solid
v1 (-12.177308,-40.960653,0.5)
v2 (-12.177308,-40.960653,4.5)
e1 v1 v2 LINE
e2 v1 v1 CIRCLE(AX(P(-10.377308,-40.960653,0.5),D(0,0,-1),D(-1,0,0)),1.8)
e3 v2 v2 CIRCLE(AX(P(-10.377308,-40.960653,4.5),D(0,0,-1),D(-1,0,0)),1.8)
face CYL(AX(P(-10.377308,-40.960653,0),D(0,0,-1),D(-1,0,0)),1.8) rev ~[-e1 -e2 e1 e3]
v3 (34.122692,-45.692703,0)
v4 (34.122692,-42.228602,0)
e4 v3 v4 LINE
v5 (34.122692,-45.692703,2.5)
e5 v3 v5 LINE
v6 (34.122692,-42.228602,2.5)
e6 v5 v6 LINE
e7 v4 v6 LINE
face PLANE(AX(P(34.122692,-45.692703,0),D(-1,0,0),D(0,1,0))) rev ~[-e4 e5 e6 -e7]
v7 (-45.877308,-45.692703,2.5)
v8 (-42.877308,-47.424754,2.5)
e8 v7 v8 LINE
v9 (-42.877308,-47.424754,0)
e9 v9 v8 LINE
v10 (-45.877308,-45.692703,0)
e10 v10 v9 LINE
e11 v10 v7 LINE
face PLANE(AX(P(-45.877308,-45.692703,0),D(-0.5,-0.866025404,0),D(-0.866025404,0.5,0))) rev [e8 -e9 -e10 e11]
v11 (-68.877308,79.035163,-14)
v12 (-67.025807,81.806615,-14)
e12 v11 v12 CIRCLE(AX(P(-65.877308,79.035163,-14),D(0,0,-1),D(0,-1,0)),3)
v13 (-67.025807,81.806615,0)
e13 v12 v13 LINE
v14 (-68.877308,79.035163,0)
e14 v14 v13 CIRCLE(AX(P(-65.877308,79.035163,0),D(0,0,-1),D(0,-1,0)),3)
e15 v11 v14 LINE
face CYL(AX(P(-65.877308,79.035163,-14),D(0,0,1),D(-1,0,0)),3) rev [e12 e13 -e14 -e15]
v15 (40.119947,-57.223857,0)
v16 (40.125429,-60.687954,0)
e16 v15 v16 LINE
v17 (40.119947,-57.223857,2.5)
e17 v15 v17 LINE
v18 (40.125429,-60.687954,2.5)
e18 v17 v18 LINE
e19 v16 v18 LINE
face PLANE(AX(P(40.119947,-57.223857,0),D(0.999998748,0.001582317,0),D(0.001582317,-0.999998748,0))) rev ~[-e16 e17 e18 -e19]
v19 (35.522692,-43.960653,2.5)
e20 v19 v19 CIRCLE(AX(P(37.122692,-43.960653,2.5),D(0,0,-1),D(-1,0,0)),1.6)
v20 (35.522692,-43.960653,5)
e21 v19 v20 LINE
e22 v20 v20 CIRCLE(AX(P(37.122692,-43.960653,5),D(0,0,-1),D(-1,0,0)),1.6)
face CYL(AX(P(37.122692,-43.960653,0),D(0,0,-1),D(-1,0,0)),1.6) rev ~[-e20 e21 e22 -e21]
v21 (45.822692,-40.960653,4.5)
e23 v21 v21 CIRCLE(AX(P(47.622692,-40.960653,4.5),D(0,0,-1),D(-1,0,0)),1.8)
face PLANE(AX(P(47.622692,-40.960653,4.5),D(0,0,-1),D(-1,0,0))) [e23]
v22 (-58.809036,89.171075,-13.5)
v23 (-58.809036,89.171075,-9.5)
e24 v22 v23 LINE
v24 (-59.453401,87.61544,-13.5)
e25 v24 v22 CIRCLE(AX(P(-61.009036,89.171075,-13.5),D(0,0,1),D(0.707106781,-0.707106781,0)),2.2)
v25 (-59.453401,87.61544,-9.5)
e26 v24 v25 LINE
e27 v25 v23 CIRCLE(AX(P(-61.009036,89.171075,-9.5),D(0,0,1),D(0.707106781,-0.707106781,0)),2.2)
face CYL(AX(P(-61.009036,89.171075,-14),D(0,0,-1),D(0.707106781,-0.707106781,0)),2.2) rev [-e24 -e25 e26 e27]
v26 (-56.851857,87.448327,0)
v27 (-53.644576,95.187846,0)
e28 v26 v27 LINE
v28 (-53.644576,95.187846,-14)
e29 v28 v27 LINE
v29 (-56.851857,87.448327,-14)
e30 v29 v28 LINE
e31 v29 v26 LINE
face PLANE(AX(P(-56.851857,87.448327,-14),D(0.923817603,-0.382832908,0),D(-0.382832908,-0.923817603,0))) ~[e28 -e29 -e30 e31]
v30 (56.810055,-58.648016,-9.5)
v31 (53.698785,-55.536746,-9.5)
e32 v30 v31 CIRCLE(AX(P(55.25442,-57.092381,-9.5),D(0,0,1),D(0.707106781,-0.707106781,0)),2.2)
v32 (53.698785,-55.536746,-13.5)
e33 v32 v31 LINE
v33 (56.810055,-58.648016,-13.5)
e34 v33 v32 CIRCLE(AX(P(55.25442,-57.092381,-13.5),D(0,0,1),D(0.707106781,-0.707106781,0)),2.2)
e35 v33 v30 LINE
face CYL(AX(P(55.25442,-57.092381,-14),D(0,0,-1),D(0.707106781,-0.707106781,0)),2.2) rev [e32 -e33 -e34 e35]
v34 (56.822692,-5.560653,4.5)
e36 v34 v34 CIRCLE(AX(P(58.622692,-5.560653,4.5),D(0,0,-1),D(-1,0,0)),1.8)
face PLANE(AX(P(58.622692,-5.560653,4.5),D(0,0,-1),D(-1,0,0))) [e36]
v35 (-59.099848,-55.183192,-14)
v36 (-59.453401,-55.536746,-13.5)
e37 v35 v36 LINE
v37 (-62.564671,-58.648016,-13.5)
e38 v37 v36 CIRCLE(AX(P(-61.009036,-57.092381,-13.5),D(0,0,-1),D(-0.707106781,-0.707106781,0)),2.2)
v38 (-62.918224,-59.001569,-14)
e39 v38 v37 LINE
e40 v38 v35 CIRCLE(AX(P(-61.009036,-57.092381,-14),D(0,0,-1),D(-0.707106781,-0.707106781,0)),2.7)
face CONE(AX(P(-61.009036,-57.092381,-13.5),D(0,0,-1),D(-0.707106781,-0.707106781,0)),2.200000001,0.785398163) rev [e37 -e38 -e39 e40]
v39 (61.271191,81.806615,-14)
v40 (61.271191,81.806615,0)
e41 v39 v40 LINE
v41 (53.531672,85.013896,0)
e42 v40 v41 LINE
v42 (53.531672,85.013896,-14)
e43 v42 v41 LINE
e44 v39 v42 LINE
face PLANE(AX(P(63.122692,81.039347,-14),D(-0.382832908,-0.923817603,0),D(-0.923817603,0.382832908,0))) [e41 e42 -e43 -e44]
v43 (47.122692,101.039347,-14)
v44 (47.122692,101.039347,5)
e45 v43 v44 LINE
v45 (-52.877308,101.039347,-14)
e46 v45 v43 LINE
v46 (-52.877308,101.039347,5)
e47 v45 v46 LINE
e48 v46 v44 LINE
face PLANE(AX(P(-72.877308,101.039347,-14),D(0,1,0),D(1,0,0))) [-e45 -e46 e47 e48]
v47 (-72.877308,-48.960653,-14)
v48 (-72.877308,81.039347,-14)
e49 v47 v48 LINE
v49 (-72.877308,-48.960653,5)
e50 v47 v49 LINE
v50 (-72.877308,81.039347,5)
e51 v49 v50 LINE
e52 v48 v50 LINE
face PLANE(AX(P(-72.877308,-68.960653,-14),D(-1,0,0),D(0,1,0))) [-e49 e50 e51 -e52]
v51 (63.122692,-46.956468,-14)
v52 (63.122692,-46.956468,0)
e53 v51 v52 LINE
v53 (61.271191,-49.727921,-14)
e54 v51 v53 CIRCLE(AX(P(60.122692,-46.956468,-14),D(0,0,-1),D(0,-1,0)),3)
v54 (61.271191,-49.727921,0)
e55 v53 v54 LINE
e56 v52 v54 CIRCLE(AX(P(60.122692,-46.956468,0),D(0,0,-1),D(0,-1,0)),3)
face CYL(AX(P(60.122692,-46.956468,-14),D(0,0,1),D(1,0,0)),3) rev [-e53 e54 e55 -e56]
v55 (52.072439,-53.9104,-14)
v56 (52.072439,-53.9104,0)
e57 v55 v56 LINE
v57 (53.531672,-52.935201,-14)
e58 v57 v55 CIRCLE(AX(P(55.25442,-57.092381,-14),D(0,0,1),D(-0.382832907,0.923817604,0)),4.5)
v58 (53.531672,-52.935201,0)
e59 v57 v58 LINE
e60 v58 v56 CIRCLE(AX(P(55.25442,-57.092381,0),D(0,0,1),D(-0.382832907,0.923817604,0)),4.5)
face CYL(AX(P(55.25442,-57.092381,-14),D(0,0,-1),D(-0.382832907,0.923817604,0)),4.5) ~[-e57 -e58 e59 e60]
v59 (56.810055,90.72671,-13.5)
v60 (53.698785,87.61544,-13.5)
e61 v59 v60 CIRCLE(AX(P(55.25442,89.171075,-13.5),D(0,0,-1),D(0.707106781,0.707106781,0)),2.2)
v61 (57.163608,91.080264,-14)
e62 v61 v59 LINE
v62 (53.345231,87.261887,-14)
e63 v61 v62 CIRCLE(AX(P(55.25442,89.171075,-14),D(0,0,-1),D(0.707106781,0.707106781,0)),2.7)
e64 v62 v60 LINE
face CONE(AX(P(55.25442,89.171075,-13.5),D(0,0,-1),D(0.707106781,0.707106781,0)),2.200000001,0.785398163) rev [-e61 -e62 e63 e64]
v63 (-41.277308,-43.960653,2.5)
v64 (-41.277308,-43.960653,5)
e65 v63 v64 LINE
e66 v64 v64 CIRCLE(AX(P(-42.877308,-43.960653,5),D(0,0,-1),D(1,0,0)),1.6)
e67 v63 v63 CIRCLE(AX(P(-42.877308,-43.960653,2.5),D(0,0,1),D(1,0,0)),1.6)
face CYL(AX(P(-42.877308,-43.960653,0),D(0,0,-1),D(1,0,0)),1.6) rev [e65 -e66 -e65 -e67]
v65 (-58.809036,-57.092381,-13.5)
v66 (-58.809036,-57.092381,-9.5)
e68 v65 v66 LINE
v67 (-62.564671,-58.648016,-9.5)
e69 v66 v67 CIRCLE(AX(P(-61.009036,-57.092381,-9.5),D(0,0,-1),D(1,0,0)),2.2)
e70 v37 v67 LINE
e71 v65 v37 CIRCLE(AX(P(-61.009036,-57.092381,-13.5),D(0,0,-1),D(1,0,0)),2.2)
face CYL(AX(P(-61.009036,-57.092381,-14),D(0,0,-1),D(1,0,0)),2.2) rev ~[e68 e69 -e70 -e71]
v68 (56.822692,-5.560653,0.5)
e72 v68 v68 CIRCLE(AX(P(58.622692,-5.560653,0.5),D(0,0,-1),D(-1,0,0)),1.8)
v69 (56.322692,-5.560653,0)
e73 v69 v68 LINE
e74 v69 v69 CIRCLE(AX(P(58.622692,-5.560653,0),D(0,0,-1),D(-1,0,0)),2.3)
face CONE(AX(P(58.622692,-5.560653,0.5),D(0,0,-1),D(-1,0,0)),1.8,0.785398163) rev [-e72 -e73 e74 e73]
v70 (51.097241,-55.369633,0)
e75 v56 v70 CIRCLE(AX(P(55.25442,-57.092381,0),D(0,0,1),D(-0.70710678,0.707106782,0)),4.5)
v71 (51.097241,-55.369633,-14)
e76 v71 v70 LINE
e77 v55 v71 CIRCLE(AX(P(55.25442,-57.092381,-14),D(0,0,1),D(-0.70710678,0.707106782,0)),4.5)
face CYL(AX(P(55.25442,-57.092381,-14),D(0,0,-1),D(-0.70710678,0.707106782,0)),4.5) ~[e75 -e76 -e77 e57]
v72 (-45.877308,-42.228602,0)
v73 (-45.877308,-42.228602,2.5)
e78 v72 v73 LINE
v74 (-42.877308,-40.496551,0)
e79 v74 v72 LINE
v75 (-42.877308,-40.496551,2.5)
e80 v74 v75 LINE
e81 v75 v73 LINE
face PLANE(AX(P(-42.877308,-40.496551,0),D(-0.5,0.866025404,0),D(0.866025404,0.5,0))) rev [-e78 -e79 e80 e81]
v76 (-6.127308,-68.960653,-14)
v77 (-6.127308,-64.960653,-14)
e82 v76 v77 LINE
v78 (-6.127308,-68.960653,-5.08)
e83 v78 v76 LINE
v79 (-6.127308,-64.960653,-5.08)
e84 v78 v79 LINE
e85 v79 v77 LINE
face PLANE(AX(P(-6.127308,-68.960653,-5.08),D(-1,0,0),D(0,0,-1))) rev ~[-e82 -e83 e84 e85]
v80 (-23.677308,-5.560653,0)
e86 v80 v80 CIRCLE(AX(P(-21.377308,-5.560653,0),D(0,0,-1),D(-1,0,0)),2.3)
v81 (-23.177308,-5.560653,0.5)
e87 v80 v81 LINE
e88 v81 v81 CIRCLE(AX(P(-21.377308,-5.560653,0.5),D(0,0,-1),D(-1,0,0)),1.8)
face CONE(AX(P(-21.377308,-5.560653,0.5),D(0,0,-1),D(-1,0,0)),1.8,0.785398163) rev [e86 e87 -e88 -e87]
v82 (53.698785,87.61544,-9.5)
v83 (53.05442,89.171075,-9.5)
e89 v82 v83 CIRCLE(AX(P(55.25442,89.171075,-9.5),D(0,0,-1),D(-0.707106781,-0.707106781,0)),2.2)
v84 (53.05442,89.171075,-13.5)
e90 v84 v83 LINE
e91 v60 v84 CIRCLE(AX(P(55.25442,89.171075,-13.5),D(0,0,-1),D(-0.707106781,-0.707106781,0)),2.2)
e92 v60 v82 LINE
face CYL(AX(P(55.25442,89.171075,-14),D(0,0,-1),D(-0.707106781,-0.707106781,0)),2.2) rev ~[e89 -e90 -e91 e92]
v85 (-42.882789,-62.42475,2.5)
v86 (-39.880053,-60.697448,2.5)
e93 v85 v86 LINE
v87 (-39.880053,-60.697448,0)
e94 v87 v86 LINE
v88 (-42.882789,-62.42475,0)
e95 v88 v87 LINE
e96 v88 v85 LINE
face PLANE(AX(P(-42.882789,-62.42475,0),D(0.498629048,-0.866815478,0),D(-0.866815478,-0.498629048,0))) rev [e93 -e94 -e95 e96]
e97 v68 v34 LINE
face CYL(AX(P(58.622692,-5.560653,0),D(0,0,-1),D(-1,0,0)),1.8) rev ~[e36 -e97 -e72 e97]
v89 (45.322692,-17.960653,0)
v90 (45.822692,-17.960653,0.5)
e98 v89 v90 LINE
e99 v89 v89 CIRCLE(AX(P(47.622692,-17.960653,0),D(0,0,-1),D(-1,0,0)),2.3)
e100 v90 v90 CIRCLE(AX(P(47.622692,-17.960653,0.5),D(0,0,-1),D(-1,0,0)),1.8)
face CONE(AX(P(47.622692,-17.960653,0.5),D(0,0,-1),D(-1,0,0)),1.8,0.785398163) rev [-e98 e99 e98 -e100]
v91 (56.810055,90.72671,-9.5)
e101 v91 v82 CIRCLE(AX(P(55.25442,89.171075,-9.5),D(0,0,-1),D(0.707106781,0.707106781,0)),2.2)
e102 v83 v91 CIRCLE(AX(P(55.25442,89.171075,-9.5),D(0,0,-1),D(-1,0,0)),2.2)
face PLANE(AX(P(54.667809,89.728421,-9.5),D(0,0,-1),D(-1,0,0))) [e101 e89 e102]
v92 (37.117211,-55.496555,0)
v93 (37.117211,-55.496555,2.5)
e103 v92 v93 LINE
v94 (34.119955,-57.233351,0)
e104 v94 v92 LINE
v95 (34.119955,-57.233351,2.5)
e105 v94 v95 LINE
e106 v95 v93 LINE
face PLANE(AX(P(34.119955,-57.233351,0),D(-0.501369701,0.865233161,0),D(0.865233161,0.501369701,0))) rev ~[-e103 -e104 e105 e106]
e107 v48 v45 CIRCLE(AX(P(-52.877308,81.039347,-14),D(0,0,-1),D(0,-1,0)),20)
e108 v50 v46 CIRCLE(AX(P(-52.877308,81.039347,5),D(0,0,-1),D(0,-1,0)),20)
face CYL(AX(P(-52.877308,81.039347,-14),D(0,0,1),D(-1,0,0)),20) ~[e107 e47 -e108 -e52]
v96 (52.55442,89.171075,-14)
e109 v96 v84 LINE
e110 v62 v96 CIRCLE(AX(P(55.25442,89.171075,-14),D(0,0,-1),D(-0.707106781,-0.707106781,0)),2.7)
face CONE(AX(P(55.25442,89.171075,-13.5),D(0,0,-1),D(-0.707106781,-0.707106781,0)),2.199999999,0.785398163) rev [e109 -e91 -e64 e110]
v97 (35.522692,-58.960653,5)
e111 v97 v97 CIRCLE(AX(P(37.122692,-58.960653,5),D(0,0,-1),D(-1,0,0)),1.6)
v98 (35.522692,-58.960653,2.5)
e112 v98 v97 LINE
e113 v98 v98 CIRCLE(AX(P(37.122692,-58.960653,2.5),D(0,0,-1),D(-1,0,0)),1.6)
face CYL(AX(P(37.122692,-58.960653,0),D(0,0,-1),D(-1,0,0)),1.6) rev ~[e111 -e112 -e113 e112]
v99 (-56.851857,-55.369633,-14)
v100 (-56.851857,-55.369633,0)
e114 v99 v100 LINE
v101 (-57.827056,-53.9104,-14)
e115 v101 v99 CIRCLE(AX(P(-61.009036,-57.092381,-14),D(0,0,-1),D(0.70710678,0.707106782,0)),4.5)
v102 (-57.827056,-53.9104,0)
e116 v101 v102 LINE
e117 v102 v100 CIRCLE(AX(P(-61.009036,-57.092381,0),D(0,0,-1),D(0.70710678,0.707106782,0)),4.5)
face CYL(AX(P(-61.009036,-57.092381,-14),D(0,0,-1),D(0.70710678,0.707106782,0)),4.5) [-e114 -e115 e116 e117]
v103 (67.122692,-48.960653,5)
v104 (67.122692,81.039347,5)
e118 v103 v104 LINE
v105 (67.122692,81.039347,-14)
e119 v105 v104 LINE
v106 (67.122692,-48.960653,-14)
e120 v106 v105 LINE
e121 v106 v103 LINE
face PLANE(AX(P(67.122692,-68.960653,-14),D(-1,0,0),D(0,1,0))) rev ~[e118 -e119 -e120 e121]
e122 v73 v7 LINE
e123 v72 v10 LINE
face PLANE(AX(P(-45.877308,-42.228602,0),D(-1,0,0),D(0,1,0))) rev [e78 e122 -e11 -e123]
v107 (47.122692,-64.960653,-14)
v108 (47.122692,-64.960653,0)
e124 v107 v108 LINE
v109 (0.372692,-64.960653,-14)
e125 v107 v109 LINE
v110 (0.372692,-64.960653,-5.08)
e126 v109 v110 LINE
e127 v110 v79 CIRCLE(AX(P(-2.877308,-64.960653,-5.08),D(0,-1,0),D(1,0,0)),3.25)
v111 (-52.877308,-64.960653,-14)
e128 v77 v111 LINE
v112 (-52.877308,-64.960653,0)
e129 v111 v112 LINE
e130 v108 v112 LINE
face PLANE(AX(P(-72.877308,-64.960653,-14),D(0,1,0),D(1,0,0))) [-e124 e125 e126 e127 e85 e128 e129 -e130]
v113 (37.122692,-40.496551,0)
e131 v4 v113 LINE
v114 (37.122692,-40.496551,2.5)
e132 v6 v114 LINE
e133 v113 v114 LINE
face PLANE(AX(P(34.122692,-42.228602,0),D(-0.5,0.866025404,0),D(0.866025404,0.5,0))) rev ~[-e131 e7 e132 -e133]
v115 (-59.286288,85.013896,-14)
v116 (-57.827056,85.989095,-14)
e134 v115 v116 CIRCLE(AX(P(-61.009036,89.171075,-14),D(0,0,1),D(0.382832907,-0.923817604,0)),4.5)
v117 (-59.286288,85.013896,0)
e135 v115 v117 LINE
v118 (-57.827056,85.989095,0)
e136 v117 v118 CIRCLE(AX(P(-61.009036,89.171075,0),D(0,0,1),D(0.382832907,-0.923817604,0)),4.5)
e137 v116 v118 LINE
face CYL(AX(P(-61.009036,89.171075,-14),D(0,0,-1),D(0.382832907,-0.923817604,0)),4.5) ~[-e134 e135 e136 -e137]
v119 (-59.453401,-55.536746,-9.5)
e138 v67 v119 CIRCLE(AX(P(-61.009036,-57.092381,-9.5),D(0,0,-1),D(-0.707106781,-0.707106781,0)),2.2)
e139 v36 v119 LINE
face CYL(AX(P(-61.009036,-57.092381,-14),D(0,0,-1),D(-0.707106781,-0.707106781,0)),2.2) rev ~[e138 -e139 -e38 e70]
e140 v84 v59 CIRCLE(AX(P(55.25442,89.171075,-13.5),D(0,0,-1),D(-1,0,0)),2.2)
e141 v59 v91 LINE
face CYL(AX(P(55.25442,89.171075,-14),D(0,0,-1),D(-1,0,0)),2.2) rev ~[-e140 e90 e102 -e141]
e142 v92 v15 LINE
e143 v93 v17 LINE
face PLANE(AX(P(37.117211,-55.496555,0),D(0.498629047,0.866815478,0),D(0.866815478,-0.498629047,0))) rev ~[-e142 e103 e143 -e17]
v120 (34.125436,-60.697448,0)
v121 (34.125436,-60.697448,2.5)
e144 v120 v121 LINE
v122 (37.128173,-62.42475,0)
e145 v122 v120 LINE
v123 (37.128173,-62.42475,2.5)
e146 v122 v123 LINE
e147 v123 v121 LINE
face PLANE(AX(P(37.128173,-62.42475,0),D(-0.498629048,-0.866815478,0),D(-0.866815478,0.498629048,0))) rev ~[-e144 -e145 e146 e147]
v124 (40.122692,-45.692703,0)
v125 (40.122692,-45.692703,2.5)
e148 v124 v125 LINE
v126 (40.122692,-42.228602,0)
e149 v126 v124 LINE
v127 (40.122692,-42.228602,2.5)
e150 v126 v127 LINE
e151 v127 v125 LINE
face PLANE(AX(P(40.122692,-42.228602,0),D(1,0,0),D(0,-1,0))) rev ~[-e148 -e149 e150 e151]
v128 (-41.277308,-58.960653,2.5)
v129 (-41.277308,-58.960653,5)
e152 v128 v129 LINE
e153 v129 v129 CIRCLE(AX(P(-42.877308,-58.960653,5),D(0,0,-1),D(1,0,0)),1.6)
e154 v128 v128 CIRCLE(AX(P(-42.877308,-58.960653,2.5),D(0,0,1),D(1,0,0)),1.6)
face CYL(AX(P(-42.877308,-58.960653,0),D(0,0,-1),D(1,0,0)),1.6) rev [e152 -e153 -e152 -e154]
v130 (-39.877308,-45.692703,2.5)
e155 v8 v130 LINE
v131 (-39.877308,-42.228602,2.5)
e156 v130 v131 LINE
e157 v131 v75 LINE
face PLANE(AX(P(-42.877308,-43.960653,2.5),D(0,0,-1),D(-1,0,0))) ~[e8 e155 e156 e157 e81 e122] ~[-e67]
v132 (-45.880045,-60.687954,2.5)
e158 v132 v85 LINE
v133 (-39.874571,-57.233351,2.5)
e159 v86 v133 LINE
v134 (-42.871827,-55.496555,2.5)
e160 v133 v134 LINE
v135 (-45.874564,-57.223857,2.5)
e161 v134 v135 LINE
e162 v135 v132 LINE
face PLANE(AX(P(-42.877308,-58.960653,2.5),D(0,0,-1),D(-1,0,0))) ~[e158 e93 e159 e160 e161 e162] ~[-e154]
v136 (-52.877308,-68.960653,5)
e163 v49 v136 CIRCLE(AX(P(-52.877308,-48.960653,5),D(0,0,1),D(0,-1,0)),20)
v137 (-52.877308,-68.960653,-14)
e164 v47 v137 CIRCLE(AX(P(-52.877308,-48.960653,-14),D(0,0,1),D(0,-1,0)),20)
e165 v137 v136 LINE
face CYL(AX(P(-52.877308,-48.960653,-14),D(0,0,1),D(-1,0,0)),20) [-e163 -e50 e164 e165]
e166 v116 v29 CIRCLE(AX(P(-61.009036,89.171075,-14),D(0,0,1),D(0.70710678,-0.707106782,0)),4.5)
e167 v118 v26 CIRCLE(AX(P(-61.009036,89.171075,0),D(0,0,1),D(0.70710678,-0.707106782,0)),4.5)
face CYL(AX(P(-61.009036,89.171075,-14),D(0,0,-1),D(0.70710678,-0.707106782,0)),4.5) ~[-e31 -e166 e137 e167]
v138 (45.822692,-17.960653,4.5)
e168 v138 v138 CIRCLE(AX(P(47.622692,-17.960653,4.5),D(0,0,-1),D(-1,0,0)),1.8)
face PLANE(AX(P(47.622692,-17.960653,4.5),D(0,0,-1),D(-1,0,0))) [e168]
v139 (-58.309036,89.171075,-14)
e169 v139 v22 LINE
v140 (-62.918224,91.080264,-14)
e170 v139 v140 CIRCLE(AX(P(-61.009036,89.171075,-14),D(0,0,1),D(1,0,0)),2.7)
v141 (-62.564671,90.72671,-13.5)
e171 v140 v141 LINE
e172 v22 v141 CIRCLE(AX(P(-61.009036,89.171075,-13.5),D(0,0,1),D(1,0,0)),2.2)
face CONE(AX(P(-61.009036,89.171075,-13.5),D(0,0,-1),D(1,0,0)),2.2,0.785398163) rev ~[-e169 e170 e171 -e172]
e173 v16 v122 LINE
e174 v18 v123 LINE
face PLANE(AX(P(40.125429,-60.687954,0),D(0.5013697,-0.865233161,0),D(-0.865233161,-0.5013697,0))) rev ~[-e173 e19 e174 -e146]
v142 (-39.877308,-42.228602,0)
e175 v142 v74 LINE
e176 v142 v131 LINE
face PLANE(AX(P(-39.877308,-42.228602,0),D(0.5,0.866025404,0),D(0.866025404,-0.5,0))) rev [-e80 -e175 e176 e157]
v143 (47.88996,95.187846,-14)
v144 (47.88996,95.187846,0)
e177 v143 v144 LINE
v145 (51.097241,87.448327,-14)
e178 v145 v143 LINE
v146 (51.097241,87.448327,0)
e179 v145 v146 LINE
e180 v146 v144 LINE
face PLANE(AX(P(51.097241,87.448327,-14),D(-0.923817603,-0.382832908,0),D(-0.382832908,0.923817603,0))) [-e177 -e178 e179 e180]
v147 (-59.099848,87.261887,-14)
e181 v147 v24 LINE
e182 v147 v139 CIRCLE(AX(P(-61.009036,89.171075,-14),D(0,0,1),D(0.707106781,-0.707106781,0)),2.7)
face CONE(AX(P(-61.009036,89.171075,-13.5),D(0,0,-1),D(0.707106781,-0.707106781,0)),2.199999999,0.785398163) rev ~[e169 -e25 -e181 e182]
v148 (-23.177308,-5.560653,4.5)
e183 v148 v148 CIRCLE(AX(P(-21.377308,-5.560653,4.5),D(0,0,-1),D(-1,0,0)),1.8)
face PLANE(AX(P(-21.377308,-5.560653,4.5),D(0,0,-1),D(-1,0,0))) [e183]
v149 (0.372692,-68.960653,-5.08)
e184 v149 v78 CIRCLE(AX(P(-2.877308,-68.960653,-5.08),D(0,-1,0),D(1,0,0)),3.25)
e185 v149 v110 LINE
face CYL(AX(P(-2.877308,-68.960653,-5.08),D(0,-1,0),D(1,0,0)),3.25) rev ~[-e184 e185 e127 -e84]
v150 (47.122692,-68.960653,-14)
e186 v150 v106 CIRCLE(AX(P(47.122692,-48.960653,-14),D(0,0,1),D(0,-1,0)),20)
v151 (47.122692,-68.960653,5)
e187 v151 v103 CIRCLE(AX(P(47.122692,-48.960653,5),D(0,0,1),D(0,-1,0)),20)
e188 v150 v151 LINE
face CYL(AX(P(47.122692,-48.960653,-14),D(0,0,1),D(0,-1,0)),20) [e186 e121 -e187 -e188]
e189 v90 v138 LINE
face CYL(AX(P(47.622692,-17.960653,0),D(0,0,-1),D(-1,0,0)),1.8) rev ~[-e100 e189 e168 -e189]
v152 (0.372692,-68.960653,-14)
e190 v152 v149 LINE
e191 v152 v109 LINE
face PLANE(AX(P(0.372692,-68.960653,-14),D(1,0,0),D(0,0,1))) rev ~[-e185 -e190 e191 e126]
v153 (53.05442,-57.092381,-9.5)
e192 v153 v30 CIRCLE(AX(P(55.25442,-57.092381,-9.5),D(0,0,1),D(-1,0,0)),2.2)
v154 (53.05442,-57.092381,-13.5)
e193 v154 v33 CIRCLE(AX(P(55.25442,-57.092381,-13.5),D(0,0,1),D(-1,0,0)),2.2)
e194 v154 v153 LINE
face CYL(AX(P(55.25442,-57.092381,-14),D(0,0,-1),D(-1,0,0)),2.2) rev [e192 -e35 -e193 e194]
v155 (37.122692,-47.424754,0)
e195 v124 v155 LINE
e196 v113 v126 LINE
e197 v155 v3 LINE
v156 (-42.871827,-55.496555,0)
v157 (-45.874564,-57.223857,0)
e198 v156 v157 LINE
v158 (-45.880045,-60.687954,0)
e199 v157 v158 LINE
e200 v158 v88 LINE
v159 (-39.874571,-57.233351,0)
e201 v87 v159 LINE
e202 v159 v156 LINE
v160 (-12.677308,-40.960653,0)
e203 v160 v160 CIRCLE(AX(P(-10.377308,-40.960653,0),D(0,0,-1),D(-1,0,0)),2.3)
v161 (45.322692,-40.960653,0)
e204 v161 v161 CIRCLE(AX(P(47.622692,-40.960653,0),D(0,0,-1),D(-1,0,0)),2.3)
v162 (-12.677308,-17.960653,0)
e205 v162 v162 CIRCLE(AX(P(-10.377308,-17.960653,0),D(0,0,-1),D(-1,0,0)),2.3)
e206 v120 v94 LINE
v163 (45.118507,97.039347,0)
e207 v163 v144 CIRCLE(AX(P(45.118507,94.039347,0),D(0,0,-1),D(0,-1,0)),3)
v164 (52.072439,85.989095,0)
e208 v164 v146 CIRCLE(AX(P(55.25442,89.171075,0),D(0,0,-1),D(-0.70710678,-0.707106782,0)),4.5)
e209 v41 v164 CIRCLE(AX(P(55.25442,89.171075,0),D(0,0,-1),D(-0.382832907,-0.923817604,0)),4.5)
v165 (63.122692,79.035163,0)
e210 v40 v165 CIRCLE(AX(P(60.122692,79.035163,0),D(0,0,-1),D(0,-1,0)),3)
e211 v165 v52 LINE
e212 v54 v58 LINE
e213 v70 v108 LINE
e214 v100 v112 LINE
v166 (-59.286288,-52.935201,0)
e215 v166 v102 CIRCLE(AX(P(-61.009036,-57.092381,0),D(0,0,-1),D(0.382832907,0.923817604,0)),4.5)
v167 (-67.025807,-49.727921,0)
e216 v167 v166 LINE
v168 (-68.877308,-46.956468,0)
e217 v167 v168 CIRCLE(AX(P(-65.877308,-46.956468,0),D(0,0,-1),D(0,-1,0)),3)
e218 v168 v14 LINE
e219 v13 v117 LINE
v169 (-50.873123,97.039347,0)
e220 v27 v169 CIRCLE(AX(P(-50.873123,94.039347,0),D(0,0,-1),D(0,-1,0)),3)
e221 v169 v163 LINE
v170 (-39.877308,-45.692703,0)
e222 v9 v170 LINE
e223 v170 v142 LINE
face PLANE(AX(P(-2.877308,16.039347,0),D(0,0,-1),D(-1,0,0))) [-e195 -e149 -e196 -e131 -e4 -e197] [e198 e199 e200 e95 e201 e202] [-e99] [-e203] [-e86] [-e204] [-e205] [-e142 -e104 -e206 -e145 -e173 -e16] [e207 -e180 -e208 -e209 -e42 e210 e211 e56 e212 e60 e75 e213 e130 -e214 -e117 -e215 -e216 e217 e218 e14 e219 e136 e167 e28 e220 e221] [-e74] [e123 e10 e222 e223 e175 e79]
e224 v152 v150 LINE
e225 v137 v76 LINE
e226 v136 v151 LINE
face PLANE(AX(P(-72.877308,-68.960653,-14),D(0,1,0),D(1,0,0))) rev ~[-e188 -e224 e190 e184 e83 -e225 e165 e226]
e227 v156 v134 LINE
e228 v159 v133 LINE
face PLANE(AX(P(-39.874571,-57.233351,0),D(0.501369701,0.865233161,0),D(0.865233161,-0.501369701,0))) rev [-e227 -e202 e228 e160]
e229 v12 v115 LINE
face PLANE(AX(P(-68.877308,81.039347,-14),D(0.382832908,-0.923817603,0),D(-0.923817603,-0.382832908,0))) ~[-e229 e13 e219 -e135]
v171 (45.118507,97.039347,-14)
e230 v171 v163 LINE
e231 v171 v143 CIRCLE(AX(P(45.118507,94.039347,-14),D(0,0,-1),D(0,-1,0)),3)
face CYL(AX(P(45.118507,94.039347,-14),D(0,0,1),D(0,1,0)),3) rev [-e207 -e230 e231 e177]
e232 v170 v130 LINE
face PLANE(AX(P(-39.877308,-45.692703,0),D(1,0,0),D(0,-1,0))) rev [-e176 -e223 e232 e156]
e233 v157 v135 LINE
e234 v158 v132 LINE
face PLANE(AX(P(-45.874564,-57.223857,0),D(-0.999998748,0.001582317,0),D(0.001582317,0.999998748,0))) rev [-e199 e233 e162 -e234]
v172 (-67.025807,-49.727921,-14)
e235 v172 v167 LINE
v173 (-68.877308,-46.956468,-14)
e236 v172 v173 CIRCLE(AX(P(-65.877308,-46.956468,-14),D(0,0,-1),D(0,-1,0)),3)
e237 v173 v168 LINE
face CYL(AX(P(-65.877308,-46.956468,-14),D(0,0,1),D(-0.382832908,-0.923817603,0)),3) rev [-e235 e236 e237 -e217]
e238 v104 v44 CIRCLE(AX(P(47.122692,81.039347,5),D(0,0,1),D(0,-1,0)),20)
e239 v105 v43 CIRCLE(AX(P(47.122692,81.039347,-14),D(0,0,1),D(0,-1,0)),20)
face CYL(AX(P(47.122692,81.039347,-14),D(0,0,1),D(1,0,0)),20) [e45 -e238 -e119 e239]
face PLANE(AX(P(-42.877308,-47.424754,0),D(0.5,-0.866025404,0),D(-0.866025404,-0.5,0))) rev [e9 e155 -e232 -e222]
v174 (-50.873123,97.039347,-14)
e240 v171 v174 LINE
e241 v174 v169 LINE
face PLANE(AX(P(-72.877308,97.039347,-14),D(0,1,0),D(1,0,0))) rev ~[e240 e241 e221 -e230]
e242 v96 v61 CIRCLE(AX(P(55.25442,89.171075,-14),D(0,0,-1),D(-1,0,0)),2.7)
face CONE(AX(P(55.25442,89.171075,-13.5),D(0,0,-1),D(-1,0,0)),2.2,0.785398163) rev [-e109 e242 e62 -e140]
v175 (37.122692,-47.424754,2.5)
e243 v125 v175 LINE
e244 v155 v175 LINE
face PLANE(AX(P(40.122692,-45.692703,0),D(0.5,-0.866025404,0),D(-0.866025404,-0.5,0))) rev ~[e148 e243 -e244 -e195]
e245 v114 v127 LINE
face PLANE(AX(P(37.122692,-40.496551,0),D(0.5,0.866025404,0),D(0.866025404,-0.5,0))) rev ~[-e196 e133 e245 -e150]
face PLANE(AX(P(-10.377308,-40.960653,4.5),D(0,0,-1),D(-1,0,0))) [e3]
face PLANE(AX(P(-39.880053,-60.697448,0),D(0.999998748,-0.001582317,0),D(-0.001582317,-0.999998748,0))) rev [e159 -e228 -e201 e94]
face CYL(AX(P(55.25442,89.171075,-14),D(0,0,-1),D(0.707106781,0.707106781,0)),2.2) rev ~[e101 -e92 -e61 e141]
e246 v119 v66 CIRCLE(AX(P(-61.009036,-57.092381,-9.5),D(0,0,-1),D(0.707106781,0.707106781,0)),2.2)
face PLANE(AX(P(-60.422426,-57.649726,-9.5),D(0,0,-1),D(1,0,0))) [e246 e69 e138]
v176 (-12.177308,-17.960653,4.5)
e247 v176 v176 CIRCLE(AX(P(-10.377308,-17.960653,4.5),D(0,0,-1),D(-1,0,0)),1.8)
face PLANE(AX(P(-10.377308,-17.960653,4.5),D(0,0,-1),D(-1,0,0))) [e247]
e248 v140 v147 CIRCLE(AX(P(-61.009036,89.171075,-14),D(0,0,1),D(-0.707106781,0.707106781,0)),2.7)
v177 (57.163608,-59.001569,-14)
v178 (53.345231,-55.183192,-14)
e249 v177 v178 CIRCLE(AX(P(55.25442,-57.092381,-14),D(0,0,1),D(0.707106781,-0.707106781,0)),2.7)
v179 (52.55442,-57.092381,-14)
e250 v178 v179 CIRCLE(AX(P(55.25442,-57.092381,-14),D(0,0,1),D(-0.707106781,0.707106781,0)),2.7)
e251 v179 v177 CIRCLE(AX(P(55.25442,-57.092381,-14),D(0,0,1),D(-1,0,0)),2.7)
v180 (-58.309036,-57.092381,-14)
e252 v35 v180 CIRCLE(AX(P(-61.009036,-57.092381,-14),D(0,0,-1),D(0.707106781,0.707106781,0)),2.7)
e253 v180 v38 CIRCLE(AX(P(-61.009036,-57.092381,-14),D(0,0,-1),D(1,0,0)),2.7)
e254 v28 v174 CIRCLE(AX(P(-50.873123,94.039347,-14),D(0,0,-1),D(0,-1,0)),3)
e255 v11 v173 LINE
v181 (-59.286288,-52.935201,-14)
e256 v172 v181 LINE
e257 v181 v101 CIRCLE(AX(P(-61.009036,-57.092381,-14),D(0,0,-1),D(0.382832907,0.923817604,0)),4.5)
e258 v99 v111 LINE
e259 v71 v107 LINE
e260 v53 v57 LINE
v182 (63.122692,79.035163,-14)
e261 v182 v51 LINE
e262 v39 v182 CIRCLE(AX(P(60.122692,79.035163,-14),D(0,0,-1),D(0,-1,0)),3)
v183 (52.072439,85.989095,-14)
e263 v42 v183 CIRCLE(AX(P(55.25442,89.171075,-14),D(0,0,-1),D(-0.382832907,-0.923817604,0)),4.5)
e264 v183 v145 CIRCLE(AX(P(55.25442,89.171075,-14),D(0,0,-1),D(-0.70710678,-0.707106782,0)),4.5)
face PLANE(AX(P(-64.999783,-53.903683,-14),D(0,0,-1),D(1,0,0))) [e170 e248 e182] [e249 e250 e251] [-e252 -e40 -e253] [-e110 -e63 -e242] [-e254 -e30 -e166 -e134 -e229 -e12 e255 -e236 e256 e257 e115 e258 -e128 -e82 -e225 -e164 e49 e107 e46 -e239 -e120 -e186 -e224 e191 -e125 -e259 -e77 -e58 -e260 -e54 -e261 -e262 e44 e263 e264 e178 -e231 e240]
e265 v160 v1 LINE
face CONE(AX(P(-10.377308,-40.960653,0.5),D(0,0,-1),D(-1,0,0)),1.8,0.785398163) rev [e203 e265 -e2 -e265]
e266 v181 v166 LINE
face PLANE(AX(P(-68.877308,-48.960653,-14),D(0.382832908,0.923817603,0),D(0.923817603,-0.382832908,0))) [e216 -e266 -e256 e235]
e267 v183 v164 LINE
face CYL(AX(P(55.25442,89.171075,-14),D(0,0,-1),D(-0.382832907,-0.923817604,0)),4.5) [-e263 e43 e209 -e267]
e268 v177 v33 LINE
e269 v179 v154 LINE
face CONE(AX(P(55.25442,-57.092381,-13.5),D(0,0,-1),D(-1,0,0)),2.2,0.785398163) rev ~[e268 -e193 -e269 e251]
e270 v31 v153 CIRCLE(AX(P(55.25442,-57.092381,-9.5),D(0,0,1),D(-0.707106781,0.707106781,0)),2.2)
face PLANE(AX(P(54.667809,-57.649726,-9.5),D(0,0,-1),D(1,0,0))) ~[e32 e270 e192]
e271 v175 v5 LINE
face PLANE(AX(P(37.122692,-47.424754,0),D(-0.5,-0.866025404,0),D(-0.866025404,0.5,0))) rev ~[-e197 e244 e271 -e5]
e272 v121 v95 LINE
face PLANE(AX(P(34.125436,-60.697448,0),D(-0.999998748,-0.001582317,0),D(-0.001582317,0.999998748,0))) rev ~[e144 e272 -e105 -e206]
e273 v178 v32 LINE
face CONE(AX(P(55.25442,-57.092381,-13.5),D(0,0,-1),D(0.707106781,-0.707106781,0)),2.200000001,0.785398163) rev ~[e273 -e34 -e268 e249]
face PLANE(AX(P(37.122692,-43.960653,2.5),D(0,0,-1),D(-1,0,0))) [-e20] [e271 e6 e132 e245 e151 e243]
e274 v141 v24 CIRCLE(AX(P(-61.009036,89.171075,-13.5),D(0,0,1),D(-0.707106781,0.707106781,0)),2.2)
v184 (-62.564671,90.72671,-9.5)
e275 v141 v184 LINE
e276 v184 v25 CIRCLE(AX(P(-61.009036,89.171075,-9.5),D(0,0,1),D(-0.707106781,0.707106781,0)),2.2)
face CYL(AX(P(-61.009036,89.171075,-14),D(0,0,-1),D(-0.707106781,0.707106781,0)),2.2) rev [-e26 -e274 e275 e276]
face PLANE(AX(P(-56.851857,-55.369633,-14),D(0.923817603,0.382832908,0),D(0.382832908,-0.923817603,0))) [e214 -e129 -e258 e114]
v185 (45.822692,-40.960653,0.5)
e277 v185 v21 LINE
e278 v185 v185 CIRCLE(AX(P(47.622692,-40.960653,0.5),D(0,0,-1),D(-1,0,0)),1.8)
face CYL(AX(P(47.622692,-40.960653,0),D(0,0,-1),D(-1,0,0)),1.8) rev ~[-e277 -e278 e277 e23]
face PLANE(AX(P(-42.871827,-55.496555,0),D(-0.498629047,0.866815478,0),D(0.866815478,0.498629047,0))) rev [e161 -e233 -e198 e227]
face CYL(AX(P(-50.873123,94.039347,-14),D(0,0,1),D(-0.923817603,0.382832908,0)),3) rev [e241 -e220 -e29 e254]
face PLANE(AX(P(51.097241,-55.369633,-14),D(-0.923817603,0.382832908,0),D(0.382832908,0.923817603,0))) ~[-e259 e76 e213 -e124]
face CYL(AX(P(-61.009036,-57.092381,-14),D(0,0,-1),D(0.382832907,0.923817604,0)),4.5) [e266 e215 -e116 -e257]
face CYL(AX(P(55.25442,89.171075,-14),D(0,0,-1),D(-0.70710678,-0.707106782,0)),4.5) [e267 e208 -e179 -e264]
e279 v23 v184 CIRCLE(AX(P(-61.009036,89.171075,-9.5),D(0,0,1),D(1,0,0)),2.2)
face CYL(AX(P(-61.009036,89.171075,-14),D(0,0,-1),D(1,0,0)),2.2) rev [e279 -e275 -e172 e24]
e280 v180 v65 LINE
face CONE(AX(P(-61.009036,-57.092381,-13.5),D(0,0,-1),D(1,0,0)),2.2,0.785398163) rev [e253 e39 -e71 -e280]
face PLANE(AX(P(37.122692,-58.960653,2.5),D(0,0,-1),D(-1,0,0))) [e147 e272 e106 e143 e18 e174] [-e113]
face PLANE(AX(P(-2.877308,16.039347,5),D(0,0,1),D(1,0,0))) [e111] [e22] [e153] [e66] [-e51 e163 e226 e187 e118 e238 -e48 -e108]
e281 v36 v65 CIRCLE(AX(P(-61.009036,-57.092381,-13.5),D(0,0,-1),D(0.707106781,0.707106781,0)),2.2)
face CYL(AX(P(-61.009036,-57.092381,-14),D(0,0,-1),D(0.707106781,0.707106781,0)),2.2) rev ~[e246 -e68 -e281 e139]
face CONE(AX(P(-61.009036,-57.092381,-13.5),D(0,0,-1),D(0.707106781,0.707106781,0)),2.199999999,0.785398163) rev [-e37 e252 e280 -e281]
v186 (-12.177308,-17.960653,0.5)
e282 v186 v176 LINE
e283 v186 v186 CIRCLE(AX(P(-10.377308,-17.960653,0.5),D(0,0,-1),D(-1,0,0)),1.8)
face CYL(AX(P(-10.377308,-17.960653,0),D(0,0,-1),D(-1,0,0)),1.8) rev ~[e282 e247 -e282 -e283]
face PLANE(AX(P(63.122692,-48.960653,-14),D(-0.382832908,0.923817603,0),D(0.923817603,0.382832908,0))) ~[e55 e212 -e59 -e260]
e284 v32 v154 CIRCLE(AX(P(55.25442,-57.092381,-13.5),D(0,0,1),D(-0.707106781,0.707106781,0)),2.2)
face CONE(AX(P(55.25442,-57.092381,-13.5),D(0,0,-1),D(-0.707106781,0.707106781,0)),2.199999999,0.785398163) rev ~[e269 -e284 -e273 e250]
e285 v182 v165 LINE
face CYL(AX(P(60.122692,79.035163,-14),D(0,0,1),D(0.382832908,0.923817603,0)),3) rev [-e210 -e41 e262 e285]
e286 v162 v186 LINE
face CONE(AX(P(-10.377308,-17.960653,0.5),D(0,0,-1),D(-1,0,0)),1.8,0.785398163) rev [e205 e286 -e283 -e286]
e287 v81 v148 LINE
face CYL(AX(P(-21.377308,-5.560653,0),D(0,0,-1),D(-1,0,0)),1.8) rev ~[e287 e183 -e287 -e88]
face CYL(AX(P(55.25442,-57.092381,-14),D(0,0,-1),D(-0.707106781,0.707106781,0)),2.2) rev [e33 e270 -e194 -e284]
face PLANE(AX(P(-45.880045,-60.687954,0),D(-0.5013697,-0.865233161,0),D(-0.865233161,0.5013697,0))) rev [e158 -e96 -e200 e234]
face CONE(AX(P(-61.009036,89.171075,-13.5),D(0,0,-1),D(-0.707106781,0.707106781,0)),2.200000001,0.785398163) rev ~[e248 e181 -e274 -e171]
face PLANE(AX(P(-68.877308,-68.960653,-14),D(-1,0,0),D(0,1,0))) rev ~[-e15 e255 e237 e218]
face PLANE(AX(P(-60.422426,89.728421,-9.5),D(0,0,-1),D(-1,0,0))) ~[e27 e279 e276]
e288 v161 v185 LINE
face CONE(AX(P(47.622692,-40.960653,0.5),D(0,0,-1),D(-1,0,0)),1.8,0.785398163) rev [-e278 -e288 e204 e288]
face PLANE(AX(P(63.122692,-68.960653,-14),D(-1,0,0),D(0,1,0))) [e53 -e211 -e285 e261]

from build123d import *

# Parameters (mm, degrees)
BOSS_EXTRUDE1_DEPTH                      = 5
BOSS_EXTRUDE1_DEPTH_BACK                 = 14
SKETCH1_W                                = 140
SKETCH1_H                                = 170
FILLET1_R                                = 20
SHELL2_T                                 = -4
SHELL2_THICKNESS_2_DEPTH                 = 1
SKETCH2_R                                = 1.8
CUT_EXTRUDE1_DEPTH                       = 4.5
SKETCH3_R                                = 1.8
CUT_EXTRUDE3_DEPTH                       = 4.5
CUT_EXTRUDE4_DEPTH                       = 4
BOSS_EXTRUDE2_DEPTH                      = 14
CUT_EXTRUDE5_DEPTH                       = 4.5
MIRROR1_AT_THE_SECOND_PLANE_COPY_1_DEPTH = 14
MIRROR1_AT_THE_SECOND_PLANE_COPY_2_DEPTH = 4.5
FILLET2_R                                = 3
CHAMFER1_SIZE                            = 0.5
SKETCH7_R                                = 1.6
CUT_EXTRUDE6_DEPTH                       = 126.363678033
SKETCH7_3_R                              = 1.6
CUT_EXTRUDE7_DEPTH                       = 2.5


with BuildPart() as part:
    # Sketch1 → Boss-Extrude1 (new, two sides: drawn at the far end of the back side and taken through both)
    with BuildSketch(Plane.XY.offset(-BOSS_EXTRUDE1_DEPTH_BACK)):
        with Locations((-2.877308189, 16.03934739)):
            Rectangle(SKETCH1_W, SKETCH1_H)
    extrude(amount=BOSS_EXTRUDE1_DEPTH + BOSS_EXTRUDE1_DEPTH_BACK)

    # Fillet1
    fillet1_edges = [part.edges().sort_by_distance(p)[0] for p in [
        (67.122691811, -68.96065261, -4.5),
        (-72.877308189, -68.96065261, -4.5),
        (-72.877308189, 101.03934739, -4.5),
        (67.122691811, 101.03934739, -4.5),
    ]]
    fillet(fillet1_edges, radius=FILLET1_R)

    # Shell2
    shell2_openings = [part.faces().sort_by_distance(p)[0] for p in [
        (-2.877308189, 16.03934739, -14),
    ]]
    offset(amount=SHELL2_T, openings=shell2_openings, kind=Kind.INTERSECTION)

    # Shell2 thickness 2 face (on inner face of the shell) → Shell2 thickness 2 (add)
    with BuildSketch(Plane(origin=(-2.877308189, 16.03934739, 1), x_dir=(1, 0, 0), z_dir=(0, 0, 1))):
        with BuildLine():
            ThreePointArc((-66, 65), (-61.313708499, 76.313708499), (-50, 81))
            Line((-50, 81), (50, 81))
            ThreePointArc((50, 81), (61.313708499, 76.313708499), (66, 65))
            Line((66, 65), (66, -65))
            ThreePointArc((66, -65), (61.313708499, -76.313708499), (50, -81))
            Line((50, -81), (-50, -81))
            ThreePointArc((-50, -81), (-61.313708499, -76.313708499), (-66, -65))
            Line((-66, -65), (-66, 65))
        make_face()
    extrude(amount=-SHELL2_THICKNESS_2_DEPTH)

    # Sketch2 → Cut-Extrude1 (cut)
    with BuildSketch(Plane(origin=(0, 0, 0), x_dir=(-1, 0, 0), z_dir=(0, 0, -1))):
        with Locations((10.377308189, -40.96065261)):
            Circle(SKETCH2_R)
        with Locations((10.377308189, -17.96065261)):
            Circle(SKETCH2_R)
        with Locations((-47.622691811, -17.96065261)):
            Circle(SKETCH2_R)
        with Locations((-47.622691811, -40.96065261)):
            Circle(SKETCH2_R)
    extrude(amount=-CUT_EXTRUDE1_DEPTH, mode=Mode.SUBTRACT)

    # Sketch3 → Cut-Extrude3 (cut)
    with BuildSketch(Plane(origin=(0, 0, 0), x_dir=(-1, 0, 0), z_dir=(0, 0, -1))):
        with Locations((-58.622691811, -5.56065261)):
            Circle(SKETCH3_R)
        with Locations((21.377308189, -5.56065261)):
            Circle(SKETCH3_R)
    extrude(amount=-CUT_EXTRUDE3_DEPTH, mode=Mode.SUBTRACT)

    # Sketch4 → Cut-Extrude4 (cut)
    with BuildSketch(Plane.XZ.offset(68.96065261)):
        with BuildLine():
            ThreePointArc((-6.127308189, -5.08), (-2.877308189, -8.33), (0.372691811, -5.08))
            Line((0.372691811, -5.08), (-6.127308189, -5.08))
        make_face()
        with BuildLine():
            Line((-6.127308189, -5.08), (0.372691811, -5.08))
            ThreePointArc((0.372691811, -5.08), (-2.877308189, -1.83), (-6.127308189, -5.08))
        make_face()
        with BuildLine():
            Line((0.372691811, -14), (0.372691811, -5.08))
            ThreePointArc((0.372691811, -5.08), (-2.877308189, -8.33), (-6.127308189, -5.08))
            Line((-6.127308189, -5.08), (-6.127308189, -14))
            Line((-6.127308189, -14), (0.372691811, -14))
        make_face()
    extrude(amount=-CUT_EXTRUDE4_DEPTH, mode=Mode.SUBTRACT)

    # Sketch6 → Boss-Extrude2 (add)
    with BuildSketch(Plane(origin=(0, 0, -14), x_dir=(-1, 0, 0), z_dir=(0, 0, -1))):
        with BuildLine():
            ThreePointArc((-53.531671708, 85.013896159), (-58.995830787, 86.670706643), (-58.43640031, 92.353055889))
            ThreePointArc((-58.43640031, 92.353055889), (-61.904764331, 87.162282308), (-63.122691811, 81.03934739))
            Line((-63.122691811, 81.03934739), (-53.531671708, 85.013896159))
        make_face()
        with BuildLine():
            ThreePointArc((-50.754419795, 89.171075374), (-53.532344349, 93.32853327), (-58.43640031, 92.353055889))
            Line((-58.43640031, 92.353055889), (-56.810054714, 90.726710293))
            ThreePointArc((-56.810054714, 90.726710293), (-54.412516244, 91.203610346), (-53.054419795, 89.171075374))
            ThreePointArc((-53.054419795, 89.171075374), (-53.221884823, 88.329171823), (-53.698784876, 87.615440455))
            Line((-53.698784876, 87.615440455), (-52.07243928, 85.989094859))
            ThreePointArc((-52.07243928, 85.989094859), (-51.513008803, 86.670706643), (-51.097240579, 87.448327288))
            ThreePointArc((-51.097240579, 87.448327288), (-50.840957069, 88.29281188), (-50.754419795, 89.171075374))
        make_face()
        with BuildLine():
            Line((-56.810054714, 90.726710293), (-58.43640031, 92.353055889))
            ThreePointArc((-58.43640031, 92.353055889), (-58.995830787, 86.670706643), (-53.531671708, 85.013896159))
            ThreePointArc((-53.531671708, 85.013896159), (-52.754051064, 85.429664382), (-52.07243928, 85.989094859))
            Line((-52.07243928, 85.989094859), (-53.698784876, 87.615440455))
            ThreePointArc((-53.698784876, 87.615440455), (-56.810054714, 87.615440455), (-56.810054714, 90.726710293))
        make_face()
        with BuildLine():
            ThreePointArc((-47.122691811, 97.03934739), (-53.245626729, 95.821419911), (-58.43640031, 92.353055889))
            ThreePointArc((-58.43640031, 92.353055889), (-53.532344349, 93.32853327), (-50.754419795, 89.171075374))
            ThreePointArc((-50.754419795, 89.171075374), (-50.840957069, 88.29281188), (-51.097240579, 87.448327288))
            Line((-51.097240579, 87.448327288), (-47.122691811, 97.03934739))
        make_face()
        with BuildLine():
            ThreePointArc((-53.054419795, 89.171075374), (-54.412516244, 91.203610346), (-56.810054714, 90.726710293))
            Line((-56.810054714, 90.726710293), (-53.698784876, 87.615440455))
            ThreePointArc((-53.698784876, 87.615440455), (-53.221884823, 88.329171823), (-53.054419795, 89.171075374))
        make_face()
        with BuildLine():
            Line((-53.698784876, 87.615440455), (-56.810054714, 90.726710293))
            ThreePointArc((-56.810054714, 90.726710293), (-56.810054714, 87.615440455), (-53.698784876, 87.615440455))
        make_face()
    boss_extrude2 = extrude(amount=-BOSS_EXTRUDE2_DEPTH)

    # Sketch6<3> → Cut-Extrude5 (cut)
    with BuildSketch(Plane(origin=(0, 0, -14), x_dir=(-1, 0, 0), z_dir=(0, 0, -1))):
        with BuildLine():
            ThreePointArc((-53.054419795, 89.171075374), (-54.412516244, 91.203610346), (-56.810054714, 90.726710293))
            Line((-56.810054714, 90.726710293), (-53.698784876, 87.615440455))
            ThreePointArc((-53.698784876, 87.615440455), (-53.221884823, 88.329171823), (-53.054419795, 89.171075374))
        make_face()
        with BuildLine():
            Line((-53.698784876, 87.615440455), (-56.810054714, 90.726710293))
            ThreePointArc((-56.810054714, 90.726710293), (-56.810054714, 87.615440455), (-53.698784876, 87.615440455))
        make_face()
    cut_extrude5 = extrude(amount=-CUT_EXTRUDE5_DEPTH, mode=Mode.SUBTRACT)

    # Mirror1: Boss-Extrude2, Cut-Extrude5 across plane
    add(boss_extrude2.mirror(Plane(origin=(0, 16.03934739, 0), x_dir=(0, 0, 1), z_dir=(0, -1, 0))))
    add(cut_extrude5.mirror(Plane(origin=(0, 16.03934739, 0), x_dir=(0, 0, 1), z_dir=(0, -1, 0))), mode=Mode.SUBTRACT)

    # Mirror1 at the second plane: Boss-Extrude2, Cut-Extrude5 across plane
    add(boss_extrude2.mirror(Plane(origin=(-2.877308189, 0, 0), x_dir=(0, 0, 1), z_dir=(1, 0, 0))))
    add(cut_extrude5.mirror(Plane(origin=(-2.877308189, 0, 0), x_dir=(0, 0, 1), z_dir=(1, 0, 0))), mode=Mode.SUBTRACT)

    # Mirror1 at the second plane copy 1 sketc → Mirror1 at the second plane copy 1 (add)
    with BuildSketch(Plane(origin=(-5.754616377, 32.078694781, -14), x_dir=(1, 0, 0), z_dir=(0, 0, -1))):
        with BuildLine():
            ThreePointArc((-53.531671708, 85.013896159), (-58.995830787, 86.670706643), (-58.43640031, 92.353055889))
            ThreePointArc((-58.43640031, 92.353055889), (-61.904764331, 87.162282308), (-63.122691811, 81.03934739))
            Line((-63.122691811, 81.03934739), (-53.531671708, 85.013896159))
        make_face()
        with BuildLine():
            ThreePointArc((-50.754419795, 89.171075374), (-53.532344349, 93.32853327), (-58.43640031, 92.353055889))
            Line((-58.43640031, 92.353055889), (-56.810054714, 90.726710293))
            ThreePointArc((-56.810054714, 90.726710293), (-54.412516244, 91.203610346), (-53.054419795, 89.171075374))
            ThreePointArc((-53.054419795, 89.171075374), (-53.221884823, 88.329171823), (-53.698784876, 87.615440455))
            Line((-53.698784876, 87.615440455), (-52.07243928, 85.989094859))
            ThreePointArc((-52.07243928, 85.989094859), (-51.513008803, 86.670706643), (-51.097240579, 87.448327288))
            ThreePointArc((-51.097240579, 87.448327288), (-50.840957069, 88.29281188), (-50.754419795, 89.171075374))
        make_face()
        with BuildLine():
            Line((-56.810054714, 90.726710293), (-58.43640031, 92.353055889))
            ThreePointArc((-58.43640031, 92.353055889), (-58.995830787, 86.670706643), (-53.531671708, 85.013896159))
            ThreePointArc((-53.531671708, 85.013896159), (-52.754051064, 85.429664382), (-52.07243928, 85.989094859))
            Line((-52.07243928, 85.989094859), (-53.698784876, 87.615440455))
            ThreePointArc((-53.698784876, 87.615440455), (-56.810054714, 87.615440455), (-56.810054714, 90.726710293))
        make_face()
        with BuildLine():
            ThreePointArc((-47.122691811, 97.03934739), (-53.245626729, 95.821419911), (-58.43640031, 92.353055889))
            ThreePointArc((-58.43640031, 92.353055889), (-53.532344349, 93.32853327), (-50.754419795, 89.171075374))
            ThreePointArc((-50.754419795, 89.171075374), (-50.840957069, 88.29281188), (-51.097240579, 87.448327288))
            Line((-51.097240579, 87.448327288), (-47.122691811, 97.03934739))
        make_face()
        with BuildLine():
            ThreePointArc((-53.054419795, 89.171075374), (-54.412516244, 91.203610346), (-56.810054714, 90.726710293))
            Line((-56.810054714, 90.726710293), (-53.698784876, 87.615440455))
            ThreePointArc((-53.698784876, 87.615440455), (-53.221884823, 88.329171823), (-53.054419795, 89.171075374))
        make_face()
        with BuildLine():
            Line((-53.698784876, 87.615440455), (-56.810054714, 90.726710293))
            ThreePointArc((-56.810054714, 90.726710293), (-56.810054714, 87.615440455), (-53.698784876, 87.615440455))
        make_face()
    extrude(amount=-MIRROR1_AT_THE_SECOND_PLANE_COPY_1_DEPTH)

    # Mirror1 at the second plane copy 2 sketc → Mirror1 at the second plane copy 2 (cut)
    with BuildSketch(Plane(origin=(-5.754616377, 32.078694781, -14), x_dir=(1, 0, 0), z_dir=(0, 0, -1))):
        with BuildLine():
            ThreePointArc((-53.054419795, 89.171075374), (-54.412516244, 91.203610346), (-56.810054714, 90.726710293))
            Line((-56.810054714, 90.726710293), (-53.698784876, 87.615440455))
            ThreePointArc((-53.698784876, 87.615440455), (-53.221884823, 88.329171823), (-53.054419795, 89.171075374))
        make_face()
        with BuildLine():
            Line((-53.698784876, 87.615440455), (-56.810054714, 90.726710293))
            ThreePointArc((-56.810054714, 90.726710293), (-56.810054714, 87.615440455), (-53.698784876, 87.615440455))
        make_face()
    extrude(amount=-MIRROR1_AT_THE_SECOND_PLANE_COPY_2_DEPTH, mode=Mode.SUBTRACT)

    # Fillet2
    fillet2_edges = [part.edges().sort_by_distance(p)[0] for p in [
        (63.122691811, 81.03934739, -7),
        (63.122691811, -48.96065261, -7),
        (-68.877308189, 81.03934739, -7),
        (-68.877308189, -48.96065261, -7),
        (-52.877308189, 97.03934739, -7),
        (47.122691811, 97.03934739, -7),
    ]]
    fillet(fillet2_edges, radius=FILLET2_R)

    # Chamfer1
    chamfer1_edges = [part.edges().sort_by_distance(p)[0] for p in [
        (53.698784876, 87.615440455, -14),
        (-59.453401254, 87.615440455, -14),
        (53.698784876, -55.536745675, -14),
        (-59.453401254, -55.536745675, -14),
        (49.422691811, -40.96065261, 0),
        (49.422691811, -17.96065261, 0),
        (-8.577308189, -17.96065261, 0),
        (-8.577308189, -40.96065261, 0),
        (60.422691811, -5.56065261, 0),
        (-19.577308189, -5.56065261, 0),
    ]]
    chamfer(chamfer1_edges, length=CHAMFER1_SIZE)

    # Sketch7 → Cut-Extrude6 (cut, through all)
    with BuildSketch(Plane(origin=(0, 0, 0), x_dir=(-1, 0, 0), z_dir=(0, 0, -1))):
        with Locations((-37.122691811, -58.96065261)):
            Circle(SKETCH7_R)
        with Locations((-37.122691811, -43.96065261)):
            Circle(SKETCH7_R)
    cut_extrude6 = extrude(amount=-CUT_EXTRUDE6_DEPTH, mode=Mode.SUBTRACT)

    # Sketch7<3> → Cut-Extrude7 (cut)
    # profile 1 of 2: a face of its own
    with BuildSketch(Plane(origin=(0, 0, 0), x_dir=(-1, 0, 0), z_dir=(0, 0, -1))):
        Polygon((-37.122691811, -47.424754225), (-34.122691811, -45.692703417), (-34.122691811, -42.228601802), (-37.122691811, -40.496550994), (-40.122691811, -42.228601802), (-40.122691811, -45.692703417), align=None)
        with Locations((-37.122691811, -43.96065261)):
            Circle(SKETCH7_3_R, mode=Mode.SUBTRACT)
    # profile 2 of 2: a face of its own
    with BuildSketch(Plane(origin=(0, 0, 0), x_dir=(-1, 0, 0), z_dir=(0, 0, -1))):
        Polygon((-37.117210505, -55.496555331), (-40.119947403, -57.22385702), (-40.125428709, -60.687954299), (-37.128173117, -62.424749888), (-34.12543622, -60.697448199), (-34.119954914, -57.233350921), align=None)
        with Locations((-37.122691811, -58.96065261)):
            Circle(SKETCH7_3_R, mode=Mode.SUBTRACT)
    cut_extrude7 = extrude(amount=-CUT_EXTRUDE7_DEPTH, mode=Mode.SUBTRACT)

    # Mirror2: Cut-Extrude6, Cut-Extrude7 across plane
    add(cut_extrude6.mirror(Plane(origin=(-2.877308189, 0, 0), x_dir=(0, 0, 1), z_dir=(1, 0, 0))), mode=Mode.SUBTRACT)
    add(cut_extrude7.mirror(Plane(origin=(-2.877308189, 0, 0), x_dir=(0, 0, 1), z_dir=(1, 0, 0))), mode=Mode.SUBTRACT)


solid = part.part
